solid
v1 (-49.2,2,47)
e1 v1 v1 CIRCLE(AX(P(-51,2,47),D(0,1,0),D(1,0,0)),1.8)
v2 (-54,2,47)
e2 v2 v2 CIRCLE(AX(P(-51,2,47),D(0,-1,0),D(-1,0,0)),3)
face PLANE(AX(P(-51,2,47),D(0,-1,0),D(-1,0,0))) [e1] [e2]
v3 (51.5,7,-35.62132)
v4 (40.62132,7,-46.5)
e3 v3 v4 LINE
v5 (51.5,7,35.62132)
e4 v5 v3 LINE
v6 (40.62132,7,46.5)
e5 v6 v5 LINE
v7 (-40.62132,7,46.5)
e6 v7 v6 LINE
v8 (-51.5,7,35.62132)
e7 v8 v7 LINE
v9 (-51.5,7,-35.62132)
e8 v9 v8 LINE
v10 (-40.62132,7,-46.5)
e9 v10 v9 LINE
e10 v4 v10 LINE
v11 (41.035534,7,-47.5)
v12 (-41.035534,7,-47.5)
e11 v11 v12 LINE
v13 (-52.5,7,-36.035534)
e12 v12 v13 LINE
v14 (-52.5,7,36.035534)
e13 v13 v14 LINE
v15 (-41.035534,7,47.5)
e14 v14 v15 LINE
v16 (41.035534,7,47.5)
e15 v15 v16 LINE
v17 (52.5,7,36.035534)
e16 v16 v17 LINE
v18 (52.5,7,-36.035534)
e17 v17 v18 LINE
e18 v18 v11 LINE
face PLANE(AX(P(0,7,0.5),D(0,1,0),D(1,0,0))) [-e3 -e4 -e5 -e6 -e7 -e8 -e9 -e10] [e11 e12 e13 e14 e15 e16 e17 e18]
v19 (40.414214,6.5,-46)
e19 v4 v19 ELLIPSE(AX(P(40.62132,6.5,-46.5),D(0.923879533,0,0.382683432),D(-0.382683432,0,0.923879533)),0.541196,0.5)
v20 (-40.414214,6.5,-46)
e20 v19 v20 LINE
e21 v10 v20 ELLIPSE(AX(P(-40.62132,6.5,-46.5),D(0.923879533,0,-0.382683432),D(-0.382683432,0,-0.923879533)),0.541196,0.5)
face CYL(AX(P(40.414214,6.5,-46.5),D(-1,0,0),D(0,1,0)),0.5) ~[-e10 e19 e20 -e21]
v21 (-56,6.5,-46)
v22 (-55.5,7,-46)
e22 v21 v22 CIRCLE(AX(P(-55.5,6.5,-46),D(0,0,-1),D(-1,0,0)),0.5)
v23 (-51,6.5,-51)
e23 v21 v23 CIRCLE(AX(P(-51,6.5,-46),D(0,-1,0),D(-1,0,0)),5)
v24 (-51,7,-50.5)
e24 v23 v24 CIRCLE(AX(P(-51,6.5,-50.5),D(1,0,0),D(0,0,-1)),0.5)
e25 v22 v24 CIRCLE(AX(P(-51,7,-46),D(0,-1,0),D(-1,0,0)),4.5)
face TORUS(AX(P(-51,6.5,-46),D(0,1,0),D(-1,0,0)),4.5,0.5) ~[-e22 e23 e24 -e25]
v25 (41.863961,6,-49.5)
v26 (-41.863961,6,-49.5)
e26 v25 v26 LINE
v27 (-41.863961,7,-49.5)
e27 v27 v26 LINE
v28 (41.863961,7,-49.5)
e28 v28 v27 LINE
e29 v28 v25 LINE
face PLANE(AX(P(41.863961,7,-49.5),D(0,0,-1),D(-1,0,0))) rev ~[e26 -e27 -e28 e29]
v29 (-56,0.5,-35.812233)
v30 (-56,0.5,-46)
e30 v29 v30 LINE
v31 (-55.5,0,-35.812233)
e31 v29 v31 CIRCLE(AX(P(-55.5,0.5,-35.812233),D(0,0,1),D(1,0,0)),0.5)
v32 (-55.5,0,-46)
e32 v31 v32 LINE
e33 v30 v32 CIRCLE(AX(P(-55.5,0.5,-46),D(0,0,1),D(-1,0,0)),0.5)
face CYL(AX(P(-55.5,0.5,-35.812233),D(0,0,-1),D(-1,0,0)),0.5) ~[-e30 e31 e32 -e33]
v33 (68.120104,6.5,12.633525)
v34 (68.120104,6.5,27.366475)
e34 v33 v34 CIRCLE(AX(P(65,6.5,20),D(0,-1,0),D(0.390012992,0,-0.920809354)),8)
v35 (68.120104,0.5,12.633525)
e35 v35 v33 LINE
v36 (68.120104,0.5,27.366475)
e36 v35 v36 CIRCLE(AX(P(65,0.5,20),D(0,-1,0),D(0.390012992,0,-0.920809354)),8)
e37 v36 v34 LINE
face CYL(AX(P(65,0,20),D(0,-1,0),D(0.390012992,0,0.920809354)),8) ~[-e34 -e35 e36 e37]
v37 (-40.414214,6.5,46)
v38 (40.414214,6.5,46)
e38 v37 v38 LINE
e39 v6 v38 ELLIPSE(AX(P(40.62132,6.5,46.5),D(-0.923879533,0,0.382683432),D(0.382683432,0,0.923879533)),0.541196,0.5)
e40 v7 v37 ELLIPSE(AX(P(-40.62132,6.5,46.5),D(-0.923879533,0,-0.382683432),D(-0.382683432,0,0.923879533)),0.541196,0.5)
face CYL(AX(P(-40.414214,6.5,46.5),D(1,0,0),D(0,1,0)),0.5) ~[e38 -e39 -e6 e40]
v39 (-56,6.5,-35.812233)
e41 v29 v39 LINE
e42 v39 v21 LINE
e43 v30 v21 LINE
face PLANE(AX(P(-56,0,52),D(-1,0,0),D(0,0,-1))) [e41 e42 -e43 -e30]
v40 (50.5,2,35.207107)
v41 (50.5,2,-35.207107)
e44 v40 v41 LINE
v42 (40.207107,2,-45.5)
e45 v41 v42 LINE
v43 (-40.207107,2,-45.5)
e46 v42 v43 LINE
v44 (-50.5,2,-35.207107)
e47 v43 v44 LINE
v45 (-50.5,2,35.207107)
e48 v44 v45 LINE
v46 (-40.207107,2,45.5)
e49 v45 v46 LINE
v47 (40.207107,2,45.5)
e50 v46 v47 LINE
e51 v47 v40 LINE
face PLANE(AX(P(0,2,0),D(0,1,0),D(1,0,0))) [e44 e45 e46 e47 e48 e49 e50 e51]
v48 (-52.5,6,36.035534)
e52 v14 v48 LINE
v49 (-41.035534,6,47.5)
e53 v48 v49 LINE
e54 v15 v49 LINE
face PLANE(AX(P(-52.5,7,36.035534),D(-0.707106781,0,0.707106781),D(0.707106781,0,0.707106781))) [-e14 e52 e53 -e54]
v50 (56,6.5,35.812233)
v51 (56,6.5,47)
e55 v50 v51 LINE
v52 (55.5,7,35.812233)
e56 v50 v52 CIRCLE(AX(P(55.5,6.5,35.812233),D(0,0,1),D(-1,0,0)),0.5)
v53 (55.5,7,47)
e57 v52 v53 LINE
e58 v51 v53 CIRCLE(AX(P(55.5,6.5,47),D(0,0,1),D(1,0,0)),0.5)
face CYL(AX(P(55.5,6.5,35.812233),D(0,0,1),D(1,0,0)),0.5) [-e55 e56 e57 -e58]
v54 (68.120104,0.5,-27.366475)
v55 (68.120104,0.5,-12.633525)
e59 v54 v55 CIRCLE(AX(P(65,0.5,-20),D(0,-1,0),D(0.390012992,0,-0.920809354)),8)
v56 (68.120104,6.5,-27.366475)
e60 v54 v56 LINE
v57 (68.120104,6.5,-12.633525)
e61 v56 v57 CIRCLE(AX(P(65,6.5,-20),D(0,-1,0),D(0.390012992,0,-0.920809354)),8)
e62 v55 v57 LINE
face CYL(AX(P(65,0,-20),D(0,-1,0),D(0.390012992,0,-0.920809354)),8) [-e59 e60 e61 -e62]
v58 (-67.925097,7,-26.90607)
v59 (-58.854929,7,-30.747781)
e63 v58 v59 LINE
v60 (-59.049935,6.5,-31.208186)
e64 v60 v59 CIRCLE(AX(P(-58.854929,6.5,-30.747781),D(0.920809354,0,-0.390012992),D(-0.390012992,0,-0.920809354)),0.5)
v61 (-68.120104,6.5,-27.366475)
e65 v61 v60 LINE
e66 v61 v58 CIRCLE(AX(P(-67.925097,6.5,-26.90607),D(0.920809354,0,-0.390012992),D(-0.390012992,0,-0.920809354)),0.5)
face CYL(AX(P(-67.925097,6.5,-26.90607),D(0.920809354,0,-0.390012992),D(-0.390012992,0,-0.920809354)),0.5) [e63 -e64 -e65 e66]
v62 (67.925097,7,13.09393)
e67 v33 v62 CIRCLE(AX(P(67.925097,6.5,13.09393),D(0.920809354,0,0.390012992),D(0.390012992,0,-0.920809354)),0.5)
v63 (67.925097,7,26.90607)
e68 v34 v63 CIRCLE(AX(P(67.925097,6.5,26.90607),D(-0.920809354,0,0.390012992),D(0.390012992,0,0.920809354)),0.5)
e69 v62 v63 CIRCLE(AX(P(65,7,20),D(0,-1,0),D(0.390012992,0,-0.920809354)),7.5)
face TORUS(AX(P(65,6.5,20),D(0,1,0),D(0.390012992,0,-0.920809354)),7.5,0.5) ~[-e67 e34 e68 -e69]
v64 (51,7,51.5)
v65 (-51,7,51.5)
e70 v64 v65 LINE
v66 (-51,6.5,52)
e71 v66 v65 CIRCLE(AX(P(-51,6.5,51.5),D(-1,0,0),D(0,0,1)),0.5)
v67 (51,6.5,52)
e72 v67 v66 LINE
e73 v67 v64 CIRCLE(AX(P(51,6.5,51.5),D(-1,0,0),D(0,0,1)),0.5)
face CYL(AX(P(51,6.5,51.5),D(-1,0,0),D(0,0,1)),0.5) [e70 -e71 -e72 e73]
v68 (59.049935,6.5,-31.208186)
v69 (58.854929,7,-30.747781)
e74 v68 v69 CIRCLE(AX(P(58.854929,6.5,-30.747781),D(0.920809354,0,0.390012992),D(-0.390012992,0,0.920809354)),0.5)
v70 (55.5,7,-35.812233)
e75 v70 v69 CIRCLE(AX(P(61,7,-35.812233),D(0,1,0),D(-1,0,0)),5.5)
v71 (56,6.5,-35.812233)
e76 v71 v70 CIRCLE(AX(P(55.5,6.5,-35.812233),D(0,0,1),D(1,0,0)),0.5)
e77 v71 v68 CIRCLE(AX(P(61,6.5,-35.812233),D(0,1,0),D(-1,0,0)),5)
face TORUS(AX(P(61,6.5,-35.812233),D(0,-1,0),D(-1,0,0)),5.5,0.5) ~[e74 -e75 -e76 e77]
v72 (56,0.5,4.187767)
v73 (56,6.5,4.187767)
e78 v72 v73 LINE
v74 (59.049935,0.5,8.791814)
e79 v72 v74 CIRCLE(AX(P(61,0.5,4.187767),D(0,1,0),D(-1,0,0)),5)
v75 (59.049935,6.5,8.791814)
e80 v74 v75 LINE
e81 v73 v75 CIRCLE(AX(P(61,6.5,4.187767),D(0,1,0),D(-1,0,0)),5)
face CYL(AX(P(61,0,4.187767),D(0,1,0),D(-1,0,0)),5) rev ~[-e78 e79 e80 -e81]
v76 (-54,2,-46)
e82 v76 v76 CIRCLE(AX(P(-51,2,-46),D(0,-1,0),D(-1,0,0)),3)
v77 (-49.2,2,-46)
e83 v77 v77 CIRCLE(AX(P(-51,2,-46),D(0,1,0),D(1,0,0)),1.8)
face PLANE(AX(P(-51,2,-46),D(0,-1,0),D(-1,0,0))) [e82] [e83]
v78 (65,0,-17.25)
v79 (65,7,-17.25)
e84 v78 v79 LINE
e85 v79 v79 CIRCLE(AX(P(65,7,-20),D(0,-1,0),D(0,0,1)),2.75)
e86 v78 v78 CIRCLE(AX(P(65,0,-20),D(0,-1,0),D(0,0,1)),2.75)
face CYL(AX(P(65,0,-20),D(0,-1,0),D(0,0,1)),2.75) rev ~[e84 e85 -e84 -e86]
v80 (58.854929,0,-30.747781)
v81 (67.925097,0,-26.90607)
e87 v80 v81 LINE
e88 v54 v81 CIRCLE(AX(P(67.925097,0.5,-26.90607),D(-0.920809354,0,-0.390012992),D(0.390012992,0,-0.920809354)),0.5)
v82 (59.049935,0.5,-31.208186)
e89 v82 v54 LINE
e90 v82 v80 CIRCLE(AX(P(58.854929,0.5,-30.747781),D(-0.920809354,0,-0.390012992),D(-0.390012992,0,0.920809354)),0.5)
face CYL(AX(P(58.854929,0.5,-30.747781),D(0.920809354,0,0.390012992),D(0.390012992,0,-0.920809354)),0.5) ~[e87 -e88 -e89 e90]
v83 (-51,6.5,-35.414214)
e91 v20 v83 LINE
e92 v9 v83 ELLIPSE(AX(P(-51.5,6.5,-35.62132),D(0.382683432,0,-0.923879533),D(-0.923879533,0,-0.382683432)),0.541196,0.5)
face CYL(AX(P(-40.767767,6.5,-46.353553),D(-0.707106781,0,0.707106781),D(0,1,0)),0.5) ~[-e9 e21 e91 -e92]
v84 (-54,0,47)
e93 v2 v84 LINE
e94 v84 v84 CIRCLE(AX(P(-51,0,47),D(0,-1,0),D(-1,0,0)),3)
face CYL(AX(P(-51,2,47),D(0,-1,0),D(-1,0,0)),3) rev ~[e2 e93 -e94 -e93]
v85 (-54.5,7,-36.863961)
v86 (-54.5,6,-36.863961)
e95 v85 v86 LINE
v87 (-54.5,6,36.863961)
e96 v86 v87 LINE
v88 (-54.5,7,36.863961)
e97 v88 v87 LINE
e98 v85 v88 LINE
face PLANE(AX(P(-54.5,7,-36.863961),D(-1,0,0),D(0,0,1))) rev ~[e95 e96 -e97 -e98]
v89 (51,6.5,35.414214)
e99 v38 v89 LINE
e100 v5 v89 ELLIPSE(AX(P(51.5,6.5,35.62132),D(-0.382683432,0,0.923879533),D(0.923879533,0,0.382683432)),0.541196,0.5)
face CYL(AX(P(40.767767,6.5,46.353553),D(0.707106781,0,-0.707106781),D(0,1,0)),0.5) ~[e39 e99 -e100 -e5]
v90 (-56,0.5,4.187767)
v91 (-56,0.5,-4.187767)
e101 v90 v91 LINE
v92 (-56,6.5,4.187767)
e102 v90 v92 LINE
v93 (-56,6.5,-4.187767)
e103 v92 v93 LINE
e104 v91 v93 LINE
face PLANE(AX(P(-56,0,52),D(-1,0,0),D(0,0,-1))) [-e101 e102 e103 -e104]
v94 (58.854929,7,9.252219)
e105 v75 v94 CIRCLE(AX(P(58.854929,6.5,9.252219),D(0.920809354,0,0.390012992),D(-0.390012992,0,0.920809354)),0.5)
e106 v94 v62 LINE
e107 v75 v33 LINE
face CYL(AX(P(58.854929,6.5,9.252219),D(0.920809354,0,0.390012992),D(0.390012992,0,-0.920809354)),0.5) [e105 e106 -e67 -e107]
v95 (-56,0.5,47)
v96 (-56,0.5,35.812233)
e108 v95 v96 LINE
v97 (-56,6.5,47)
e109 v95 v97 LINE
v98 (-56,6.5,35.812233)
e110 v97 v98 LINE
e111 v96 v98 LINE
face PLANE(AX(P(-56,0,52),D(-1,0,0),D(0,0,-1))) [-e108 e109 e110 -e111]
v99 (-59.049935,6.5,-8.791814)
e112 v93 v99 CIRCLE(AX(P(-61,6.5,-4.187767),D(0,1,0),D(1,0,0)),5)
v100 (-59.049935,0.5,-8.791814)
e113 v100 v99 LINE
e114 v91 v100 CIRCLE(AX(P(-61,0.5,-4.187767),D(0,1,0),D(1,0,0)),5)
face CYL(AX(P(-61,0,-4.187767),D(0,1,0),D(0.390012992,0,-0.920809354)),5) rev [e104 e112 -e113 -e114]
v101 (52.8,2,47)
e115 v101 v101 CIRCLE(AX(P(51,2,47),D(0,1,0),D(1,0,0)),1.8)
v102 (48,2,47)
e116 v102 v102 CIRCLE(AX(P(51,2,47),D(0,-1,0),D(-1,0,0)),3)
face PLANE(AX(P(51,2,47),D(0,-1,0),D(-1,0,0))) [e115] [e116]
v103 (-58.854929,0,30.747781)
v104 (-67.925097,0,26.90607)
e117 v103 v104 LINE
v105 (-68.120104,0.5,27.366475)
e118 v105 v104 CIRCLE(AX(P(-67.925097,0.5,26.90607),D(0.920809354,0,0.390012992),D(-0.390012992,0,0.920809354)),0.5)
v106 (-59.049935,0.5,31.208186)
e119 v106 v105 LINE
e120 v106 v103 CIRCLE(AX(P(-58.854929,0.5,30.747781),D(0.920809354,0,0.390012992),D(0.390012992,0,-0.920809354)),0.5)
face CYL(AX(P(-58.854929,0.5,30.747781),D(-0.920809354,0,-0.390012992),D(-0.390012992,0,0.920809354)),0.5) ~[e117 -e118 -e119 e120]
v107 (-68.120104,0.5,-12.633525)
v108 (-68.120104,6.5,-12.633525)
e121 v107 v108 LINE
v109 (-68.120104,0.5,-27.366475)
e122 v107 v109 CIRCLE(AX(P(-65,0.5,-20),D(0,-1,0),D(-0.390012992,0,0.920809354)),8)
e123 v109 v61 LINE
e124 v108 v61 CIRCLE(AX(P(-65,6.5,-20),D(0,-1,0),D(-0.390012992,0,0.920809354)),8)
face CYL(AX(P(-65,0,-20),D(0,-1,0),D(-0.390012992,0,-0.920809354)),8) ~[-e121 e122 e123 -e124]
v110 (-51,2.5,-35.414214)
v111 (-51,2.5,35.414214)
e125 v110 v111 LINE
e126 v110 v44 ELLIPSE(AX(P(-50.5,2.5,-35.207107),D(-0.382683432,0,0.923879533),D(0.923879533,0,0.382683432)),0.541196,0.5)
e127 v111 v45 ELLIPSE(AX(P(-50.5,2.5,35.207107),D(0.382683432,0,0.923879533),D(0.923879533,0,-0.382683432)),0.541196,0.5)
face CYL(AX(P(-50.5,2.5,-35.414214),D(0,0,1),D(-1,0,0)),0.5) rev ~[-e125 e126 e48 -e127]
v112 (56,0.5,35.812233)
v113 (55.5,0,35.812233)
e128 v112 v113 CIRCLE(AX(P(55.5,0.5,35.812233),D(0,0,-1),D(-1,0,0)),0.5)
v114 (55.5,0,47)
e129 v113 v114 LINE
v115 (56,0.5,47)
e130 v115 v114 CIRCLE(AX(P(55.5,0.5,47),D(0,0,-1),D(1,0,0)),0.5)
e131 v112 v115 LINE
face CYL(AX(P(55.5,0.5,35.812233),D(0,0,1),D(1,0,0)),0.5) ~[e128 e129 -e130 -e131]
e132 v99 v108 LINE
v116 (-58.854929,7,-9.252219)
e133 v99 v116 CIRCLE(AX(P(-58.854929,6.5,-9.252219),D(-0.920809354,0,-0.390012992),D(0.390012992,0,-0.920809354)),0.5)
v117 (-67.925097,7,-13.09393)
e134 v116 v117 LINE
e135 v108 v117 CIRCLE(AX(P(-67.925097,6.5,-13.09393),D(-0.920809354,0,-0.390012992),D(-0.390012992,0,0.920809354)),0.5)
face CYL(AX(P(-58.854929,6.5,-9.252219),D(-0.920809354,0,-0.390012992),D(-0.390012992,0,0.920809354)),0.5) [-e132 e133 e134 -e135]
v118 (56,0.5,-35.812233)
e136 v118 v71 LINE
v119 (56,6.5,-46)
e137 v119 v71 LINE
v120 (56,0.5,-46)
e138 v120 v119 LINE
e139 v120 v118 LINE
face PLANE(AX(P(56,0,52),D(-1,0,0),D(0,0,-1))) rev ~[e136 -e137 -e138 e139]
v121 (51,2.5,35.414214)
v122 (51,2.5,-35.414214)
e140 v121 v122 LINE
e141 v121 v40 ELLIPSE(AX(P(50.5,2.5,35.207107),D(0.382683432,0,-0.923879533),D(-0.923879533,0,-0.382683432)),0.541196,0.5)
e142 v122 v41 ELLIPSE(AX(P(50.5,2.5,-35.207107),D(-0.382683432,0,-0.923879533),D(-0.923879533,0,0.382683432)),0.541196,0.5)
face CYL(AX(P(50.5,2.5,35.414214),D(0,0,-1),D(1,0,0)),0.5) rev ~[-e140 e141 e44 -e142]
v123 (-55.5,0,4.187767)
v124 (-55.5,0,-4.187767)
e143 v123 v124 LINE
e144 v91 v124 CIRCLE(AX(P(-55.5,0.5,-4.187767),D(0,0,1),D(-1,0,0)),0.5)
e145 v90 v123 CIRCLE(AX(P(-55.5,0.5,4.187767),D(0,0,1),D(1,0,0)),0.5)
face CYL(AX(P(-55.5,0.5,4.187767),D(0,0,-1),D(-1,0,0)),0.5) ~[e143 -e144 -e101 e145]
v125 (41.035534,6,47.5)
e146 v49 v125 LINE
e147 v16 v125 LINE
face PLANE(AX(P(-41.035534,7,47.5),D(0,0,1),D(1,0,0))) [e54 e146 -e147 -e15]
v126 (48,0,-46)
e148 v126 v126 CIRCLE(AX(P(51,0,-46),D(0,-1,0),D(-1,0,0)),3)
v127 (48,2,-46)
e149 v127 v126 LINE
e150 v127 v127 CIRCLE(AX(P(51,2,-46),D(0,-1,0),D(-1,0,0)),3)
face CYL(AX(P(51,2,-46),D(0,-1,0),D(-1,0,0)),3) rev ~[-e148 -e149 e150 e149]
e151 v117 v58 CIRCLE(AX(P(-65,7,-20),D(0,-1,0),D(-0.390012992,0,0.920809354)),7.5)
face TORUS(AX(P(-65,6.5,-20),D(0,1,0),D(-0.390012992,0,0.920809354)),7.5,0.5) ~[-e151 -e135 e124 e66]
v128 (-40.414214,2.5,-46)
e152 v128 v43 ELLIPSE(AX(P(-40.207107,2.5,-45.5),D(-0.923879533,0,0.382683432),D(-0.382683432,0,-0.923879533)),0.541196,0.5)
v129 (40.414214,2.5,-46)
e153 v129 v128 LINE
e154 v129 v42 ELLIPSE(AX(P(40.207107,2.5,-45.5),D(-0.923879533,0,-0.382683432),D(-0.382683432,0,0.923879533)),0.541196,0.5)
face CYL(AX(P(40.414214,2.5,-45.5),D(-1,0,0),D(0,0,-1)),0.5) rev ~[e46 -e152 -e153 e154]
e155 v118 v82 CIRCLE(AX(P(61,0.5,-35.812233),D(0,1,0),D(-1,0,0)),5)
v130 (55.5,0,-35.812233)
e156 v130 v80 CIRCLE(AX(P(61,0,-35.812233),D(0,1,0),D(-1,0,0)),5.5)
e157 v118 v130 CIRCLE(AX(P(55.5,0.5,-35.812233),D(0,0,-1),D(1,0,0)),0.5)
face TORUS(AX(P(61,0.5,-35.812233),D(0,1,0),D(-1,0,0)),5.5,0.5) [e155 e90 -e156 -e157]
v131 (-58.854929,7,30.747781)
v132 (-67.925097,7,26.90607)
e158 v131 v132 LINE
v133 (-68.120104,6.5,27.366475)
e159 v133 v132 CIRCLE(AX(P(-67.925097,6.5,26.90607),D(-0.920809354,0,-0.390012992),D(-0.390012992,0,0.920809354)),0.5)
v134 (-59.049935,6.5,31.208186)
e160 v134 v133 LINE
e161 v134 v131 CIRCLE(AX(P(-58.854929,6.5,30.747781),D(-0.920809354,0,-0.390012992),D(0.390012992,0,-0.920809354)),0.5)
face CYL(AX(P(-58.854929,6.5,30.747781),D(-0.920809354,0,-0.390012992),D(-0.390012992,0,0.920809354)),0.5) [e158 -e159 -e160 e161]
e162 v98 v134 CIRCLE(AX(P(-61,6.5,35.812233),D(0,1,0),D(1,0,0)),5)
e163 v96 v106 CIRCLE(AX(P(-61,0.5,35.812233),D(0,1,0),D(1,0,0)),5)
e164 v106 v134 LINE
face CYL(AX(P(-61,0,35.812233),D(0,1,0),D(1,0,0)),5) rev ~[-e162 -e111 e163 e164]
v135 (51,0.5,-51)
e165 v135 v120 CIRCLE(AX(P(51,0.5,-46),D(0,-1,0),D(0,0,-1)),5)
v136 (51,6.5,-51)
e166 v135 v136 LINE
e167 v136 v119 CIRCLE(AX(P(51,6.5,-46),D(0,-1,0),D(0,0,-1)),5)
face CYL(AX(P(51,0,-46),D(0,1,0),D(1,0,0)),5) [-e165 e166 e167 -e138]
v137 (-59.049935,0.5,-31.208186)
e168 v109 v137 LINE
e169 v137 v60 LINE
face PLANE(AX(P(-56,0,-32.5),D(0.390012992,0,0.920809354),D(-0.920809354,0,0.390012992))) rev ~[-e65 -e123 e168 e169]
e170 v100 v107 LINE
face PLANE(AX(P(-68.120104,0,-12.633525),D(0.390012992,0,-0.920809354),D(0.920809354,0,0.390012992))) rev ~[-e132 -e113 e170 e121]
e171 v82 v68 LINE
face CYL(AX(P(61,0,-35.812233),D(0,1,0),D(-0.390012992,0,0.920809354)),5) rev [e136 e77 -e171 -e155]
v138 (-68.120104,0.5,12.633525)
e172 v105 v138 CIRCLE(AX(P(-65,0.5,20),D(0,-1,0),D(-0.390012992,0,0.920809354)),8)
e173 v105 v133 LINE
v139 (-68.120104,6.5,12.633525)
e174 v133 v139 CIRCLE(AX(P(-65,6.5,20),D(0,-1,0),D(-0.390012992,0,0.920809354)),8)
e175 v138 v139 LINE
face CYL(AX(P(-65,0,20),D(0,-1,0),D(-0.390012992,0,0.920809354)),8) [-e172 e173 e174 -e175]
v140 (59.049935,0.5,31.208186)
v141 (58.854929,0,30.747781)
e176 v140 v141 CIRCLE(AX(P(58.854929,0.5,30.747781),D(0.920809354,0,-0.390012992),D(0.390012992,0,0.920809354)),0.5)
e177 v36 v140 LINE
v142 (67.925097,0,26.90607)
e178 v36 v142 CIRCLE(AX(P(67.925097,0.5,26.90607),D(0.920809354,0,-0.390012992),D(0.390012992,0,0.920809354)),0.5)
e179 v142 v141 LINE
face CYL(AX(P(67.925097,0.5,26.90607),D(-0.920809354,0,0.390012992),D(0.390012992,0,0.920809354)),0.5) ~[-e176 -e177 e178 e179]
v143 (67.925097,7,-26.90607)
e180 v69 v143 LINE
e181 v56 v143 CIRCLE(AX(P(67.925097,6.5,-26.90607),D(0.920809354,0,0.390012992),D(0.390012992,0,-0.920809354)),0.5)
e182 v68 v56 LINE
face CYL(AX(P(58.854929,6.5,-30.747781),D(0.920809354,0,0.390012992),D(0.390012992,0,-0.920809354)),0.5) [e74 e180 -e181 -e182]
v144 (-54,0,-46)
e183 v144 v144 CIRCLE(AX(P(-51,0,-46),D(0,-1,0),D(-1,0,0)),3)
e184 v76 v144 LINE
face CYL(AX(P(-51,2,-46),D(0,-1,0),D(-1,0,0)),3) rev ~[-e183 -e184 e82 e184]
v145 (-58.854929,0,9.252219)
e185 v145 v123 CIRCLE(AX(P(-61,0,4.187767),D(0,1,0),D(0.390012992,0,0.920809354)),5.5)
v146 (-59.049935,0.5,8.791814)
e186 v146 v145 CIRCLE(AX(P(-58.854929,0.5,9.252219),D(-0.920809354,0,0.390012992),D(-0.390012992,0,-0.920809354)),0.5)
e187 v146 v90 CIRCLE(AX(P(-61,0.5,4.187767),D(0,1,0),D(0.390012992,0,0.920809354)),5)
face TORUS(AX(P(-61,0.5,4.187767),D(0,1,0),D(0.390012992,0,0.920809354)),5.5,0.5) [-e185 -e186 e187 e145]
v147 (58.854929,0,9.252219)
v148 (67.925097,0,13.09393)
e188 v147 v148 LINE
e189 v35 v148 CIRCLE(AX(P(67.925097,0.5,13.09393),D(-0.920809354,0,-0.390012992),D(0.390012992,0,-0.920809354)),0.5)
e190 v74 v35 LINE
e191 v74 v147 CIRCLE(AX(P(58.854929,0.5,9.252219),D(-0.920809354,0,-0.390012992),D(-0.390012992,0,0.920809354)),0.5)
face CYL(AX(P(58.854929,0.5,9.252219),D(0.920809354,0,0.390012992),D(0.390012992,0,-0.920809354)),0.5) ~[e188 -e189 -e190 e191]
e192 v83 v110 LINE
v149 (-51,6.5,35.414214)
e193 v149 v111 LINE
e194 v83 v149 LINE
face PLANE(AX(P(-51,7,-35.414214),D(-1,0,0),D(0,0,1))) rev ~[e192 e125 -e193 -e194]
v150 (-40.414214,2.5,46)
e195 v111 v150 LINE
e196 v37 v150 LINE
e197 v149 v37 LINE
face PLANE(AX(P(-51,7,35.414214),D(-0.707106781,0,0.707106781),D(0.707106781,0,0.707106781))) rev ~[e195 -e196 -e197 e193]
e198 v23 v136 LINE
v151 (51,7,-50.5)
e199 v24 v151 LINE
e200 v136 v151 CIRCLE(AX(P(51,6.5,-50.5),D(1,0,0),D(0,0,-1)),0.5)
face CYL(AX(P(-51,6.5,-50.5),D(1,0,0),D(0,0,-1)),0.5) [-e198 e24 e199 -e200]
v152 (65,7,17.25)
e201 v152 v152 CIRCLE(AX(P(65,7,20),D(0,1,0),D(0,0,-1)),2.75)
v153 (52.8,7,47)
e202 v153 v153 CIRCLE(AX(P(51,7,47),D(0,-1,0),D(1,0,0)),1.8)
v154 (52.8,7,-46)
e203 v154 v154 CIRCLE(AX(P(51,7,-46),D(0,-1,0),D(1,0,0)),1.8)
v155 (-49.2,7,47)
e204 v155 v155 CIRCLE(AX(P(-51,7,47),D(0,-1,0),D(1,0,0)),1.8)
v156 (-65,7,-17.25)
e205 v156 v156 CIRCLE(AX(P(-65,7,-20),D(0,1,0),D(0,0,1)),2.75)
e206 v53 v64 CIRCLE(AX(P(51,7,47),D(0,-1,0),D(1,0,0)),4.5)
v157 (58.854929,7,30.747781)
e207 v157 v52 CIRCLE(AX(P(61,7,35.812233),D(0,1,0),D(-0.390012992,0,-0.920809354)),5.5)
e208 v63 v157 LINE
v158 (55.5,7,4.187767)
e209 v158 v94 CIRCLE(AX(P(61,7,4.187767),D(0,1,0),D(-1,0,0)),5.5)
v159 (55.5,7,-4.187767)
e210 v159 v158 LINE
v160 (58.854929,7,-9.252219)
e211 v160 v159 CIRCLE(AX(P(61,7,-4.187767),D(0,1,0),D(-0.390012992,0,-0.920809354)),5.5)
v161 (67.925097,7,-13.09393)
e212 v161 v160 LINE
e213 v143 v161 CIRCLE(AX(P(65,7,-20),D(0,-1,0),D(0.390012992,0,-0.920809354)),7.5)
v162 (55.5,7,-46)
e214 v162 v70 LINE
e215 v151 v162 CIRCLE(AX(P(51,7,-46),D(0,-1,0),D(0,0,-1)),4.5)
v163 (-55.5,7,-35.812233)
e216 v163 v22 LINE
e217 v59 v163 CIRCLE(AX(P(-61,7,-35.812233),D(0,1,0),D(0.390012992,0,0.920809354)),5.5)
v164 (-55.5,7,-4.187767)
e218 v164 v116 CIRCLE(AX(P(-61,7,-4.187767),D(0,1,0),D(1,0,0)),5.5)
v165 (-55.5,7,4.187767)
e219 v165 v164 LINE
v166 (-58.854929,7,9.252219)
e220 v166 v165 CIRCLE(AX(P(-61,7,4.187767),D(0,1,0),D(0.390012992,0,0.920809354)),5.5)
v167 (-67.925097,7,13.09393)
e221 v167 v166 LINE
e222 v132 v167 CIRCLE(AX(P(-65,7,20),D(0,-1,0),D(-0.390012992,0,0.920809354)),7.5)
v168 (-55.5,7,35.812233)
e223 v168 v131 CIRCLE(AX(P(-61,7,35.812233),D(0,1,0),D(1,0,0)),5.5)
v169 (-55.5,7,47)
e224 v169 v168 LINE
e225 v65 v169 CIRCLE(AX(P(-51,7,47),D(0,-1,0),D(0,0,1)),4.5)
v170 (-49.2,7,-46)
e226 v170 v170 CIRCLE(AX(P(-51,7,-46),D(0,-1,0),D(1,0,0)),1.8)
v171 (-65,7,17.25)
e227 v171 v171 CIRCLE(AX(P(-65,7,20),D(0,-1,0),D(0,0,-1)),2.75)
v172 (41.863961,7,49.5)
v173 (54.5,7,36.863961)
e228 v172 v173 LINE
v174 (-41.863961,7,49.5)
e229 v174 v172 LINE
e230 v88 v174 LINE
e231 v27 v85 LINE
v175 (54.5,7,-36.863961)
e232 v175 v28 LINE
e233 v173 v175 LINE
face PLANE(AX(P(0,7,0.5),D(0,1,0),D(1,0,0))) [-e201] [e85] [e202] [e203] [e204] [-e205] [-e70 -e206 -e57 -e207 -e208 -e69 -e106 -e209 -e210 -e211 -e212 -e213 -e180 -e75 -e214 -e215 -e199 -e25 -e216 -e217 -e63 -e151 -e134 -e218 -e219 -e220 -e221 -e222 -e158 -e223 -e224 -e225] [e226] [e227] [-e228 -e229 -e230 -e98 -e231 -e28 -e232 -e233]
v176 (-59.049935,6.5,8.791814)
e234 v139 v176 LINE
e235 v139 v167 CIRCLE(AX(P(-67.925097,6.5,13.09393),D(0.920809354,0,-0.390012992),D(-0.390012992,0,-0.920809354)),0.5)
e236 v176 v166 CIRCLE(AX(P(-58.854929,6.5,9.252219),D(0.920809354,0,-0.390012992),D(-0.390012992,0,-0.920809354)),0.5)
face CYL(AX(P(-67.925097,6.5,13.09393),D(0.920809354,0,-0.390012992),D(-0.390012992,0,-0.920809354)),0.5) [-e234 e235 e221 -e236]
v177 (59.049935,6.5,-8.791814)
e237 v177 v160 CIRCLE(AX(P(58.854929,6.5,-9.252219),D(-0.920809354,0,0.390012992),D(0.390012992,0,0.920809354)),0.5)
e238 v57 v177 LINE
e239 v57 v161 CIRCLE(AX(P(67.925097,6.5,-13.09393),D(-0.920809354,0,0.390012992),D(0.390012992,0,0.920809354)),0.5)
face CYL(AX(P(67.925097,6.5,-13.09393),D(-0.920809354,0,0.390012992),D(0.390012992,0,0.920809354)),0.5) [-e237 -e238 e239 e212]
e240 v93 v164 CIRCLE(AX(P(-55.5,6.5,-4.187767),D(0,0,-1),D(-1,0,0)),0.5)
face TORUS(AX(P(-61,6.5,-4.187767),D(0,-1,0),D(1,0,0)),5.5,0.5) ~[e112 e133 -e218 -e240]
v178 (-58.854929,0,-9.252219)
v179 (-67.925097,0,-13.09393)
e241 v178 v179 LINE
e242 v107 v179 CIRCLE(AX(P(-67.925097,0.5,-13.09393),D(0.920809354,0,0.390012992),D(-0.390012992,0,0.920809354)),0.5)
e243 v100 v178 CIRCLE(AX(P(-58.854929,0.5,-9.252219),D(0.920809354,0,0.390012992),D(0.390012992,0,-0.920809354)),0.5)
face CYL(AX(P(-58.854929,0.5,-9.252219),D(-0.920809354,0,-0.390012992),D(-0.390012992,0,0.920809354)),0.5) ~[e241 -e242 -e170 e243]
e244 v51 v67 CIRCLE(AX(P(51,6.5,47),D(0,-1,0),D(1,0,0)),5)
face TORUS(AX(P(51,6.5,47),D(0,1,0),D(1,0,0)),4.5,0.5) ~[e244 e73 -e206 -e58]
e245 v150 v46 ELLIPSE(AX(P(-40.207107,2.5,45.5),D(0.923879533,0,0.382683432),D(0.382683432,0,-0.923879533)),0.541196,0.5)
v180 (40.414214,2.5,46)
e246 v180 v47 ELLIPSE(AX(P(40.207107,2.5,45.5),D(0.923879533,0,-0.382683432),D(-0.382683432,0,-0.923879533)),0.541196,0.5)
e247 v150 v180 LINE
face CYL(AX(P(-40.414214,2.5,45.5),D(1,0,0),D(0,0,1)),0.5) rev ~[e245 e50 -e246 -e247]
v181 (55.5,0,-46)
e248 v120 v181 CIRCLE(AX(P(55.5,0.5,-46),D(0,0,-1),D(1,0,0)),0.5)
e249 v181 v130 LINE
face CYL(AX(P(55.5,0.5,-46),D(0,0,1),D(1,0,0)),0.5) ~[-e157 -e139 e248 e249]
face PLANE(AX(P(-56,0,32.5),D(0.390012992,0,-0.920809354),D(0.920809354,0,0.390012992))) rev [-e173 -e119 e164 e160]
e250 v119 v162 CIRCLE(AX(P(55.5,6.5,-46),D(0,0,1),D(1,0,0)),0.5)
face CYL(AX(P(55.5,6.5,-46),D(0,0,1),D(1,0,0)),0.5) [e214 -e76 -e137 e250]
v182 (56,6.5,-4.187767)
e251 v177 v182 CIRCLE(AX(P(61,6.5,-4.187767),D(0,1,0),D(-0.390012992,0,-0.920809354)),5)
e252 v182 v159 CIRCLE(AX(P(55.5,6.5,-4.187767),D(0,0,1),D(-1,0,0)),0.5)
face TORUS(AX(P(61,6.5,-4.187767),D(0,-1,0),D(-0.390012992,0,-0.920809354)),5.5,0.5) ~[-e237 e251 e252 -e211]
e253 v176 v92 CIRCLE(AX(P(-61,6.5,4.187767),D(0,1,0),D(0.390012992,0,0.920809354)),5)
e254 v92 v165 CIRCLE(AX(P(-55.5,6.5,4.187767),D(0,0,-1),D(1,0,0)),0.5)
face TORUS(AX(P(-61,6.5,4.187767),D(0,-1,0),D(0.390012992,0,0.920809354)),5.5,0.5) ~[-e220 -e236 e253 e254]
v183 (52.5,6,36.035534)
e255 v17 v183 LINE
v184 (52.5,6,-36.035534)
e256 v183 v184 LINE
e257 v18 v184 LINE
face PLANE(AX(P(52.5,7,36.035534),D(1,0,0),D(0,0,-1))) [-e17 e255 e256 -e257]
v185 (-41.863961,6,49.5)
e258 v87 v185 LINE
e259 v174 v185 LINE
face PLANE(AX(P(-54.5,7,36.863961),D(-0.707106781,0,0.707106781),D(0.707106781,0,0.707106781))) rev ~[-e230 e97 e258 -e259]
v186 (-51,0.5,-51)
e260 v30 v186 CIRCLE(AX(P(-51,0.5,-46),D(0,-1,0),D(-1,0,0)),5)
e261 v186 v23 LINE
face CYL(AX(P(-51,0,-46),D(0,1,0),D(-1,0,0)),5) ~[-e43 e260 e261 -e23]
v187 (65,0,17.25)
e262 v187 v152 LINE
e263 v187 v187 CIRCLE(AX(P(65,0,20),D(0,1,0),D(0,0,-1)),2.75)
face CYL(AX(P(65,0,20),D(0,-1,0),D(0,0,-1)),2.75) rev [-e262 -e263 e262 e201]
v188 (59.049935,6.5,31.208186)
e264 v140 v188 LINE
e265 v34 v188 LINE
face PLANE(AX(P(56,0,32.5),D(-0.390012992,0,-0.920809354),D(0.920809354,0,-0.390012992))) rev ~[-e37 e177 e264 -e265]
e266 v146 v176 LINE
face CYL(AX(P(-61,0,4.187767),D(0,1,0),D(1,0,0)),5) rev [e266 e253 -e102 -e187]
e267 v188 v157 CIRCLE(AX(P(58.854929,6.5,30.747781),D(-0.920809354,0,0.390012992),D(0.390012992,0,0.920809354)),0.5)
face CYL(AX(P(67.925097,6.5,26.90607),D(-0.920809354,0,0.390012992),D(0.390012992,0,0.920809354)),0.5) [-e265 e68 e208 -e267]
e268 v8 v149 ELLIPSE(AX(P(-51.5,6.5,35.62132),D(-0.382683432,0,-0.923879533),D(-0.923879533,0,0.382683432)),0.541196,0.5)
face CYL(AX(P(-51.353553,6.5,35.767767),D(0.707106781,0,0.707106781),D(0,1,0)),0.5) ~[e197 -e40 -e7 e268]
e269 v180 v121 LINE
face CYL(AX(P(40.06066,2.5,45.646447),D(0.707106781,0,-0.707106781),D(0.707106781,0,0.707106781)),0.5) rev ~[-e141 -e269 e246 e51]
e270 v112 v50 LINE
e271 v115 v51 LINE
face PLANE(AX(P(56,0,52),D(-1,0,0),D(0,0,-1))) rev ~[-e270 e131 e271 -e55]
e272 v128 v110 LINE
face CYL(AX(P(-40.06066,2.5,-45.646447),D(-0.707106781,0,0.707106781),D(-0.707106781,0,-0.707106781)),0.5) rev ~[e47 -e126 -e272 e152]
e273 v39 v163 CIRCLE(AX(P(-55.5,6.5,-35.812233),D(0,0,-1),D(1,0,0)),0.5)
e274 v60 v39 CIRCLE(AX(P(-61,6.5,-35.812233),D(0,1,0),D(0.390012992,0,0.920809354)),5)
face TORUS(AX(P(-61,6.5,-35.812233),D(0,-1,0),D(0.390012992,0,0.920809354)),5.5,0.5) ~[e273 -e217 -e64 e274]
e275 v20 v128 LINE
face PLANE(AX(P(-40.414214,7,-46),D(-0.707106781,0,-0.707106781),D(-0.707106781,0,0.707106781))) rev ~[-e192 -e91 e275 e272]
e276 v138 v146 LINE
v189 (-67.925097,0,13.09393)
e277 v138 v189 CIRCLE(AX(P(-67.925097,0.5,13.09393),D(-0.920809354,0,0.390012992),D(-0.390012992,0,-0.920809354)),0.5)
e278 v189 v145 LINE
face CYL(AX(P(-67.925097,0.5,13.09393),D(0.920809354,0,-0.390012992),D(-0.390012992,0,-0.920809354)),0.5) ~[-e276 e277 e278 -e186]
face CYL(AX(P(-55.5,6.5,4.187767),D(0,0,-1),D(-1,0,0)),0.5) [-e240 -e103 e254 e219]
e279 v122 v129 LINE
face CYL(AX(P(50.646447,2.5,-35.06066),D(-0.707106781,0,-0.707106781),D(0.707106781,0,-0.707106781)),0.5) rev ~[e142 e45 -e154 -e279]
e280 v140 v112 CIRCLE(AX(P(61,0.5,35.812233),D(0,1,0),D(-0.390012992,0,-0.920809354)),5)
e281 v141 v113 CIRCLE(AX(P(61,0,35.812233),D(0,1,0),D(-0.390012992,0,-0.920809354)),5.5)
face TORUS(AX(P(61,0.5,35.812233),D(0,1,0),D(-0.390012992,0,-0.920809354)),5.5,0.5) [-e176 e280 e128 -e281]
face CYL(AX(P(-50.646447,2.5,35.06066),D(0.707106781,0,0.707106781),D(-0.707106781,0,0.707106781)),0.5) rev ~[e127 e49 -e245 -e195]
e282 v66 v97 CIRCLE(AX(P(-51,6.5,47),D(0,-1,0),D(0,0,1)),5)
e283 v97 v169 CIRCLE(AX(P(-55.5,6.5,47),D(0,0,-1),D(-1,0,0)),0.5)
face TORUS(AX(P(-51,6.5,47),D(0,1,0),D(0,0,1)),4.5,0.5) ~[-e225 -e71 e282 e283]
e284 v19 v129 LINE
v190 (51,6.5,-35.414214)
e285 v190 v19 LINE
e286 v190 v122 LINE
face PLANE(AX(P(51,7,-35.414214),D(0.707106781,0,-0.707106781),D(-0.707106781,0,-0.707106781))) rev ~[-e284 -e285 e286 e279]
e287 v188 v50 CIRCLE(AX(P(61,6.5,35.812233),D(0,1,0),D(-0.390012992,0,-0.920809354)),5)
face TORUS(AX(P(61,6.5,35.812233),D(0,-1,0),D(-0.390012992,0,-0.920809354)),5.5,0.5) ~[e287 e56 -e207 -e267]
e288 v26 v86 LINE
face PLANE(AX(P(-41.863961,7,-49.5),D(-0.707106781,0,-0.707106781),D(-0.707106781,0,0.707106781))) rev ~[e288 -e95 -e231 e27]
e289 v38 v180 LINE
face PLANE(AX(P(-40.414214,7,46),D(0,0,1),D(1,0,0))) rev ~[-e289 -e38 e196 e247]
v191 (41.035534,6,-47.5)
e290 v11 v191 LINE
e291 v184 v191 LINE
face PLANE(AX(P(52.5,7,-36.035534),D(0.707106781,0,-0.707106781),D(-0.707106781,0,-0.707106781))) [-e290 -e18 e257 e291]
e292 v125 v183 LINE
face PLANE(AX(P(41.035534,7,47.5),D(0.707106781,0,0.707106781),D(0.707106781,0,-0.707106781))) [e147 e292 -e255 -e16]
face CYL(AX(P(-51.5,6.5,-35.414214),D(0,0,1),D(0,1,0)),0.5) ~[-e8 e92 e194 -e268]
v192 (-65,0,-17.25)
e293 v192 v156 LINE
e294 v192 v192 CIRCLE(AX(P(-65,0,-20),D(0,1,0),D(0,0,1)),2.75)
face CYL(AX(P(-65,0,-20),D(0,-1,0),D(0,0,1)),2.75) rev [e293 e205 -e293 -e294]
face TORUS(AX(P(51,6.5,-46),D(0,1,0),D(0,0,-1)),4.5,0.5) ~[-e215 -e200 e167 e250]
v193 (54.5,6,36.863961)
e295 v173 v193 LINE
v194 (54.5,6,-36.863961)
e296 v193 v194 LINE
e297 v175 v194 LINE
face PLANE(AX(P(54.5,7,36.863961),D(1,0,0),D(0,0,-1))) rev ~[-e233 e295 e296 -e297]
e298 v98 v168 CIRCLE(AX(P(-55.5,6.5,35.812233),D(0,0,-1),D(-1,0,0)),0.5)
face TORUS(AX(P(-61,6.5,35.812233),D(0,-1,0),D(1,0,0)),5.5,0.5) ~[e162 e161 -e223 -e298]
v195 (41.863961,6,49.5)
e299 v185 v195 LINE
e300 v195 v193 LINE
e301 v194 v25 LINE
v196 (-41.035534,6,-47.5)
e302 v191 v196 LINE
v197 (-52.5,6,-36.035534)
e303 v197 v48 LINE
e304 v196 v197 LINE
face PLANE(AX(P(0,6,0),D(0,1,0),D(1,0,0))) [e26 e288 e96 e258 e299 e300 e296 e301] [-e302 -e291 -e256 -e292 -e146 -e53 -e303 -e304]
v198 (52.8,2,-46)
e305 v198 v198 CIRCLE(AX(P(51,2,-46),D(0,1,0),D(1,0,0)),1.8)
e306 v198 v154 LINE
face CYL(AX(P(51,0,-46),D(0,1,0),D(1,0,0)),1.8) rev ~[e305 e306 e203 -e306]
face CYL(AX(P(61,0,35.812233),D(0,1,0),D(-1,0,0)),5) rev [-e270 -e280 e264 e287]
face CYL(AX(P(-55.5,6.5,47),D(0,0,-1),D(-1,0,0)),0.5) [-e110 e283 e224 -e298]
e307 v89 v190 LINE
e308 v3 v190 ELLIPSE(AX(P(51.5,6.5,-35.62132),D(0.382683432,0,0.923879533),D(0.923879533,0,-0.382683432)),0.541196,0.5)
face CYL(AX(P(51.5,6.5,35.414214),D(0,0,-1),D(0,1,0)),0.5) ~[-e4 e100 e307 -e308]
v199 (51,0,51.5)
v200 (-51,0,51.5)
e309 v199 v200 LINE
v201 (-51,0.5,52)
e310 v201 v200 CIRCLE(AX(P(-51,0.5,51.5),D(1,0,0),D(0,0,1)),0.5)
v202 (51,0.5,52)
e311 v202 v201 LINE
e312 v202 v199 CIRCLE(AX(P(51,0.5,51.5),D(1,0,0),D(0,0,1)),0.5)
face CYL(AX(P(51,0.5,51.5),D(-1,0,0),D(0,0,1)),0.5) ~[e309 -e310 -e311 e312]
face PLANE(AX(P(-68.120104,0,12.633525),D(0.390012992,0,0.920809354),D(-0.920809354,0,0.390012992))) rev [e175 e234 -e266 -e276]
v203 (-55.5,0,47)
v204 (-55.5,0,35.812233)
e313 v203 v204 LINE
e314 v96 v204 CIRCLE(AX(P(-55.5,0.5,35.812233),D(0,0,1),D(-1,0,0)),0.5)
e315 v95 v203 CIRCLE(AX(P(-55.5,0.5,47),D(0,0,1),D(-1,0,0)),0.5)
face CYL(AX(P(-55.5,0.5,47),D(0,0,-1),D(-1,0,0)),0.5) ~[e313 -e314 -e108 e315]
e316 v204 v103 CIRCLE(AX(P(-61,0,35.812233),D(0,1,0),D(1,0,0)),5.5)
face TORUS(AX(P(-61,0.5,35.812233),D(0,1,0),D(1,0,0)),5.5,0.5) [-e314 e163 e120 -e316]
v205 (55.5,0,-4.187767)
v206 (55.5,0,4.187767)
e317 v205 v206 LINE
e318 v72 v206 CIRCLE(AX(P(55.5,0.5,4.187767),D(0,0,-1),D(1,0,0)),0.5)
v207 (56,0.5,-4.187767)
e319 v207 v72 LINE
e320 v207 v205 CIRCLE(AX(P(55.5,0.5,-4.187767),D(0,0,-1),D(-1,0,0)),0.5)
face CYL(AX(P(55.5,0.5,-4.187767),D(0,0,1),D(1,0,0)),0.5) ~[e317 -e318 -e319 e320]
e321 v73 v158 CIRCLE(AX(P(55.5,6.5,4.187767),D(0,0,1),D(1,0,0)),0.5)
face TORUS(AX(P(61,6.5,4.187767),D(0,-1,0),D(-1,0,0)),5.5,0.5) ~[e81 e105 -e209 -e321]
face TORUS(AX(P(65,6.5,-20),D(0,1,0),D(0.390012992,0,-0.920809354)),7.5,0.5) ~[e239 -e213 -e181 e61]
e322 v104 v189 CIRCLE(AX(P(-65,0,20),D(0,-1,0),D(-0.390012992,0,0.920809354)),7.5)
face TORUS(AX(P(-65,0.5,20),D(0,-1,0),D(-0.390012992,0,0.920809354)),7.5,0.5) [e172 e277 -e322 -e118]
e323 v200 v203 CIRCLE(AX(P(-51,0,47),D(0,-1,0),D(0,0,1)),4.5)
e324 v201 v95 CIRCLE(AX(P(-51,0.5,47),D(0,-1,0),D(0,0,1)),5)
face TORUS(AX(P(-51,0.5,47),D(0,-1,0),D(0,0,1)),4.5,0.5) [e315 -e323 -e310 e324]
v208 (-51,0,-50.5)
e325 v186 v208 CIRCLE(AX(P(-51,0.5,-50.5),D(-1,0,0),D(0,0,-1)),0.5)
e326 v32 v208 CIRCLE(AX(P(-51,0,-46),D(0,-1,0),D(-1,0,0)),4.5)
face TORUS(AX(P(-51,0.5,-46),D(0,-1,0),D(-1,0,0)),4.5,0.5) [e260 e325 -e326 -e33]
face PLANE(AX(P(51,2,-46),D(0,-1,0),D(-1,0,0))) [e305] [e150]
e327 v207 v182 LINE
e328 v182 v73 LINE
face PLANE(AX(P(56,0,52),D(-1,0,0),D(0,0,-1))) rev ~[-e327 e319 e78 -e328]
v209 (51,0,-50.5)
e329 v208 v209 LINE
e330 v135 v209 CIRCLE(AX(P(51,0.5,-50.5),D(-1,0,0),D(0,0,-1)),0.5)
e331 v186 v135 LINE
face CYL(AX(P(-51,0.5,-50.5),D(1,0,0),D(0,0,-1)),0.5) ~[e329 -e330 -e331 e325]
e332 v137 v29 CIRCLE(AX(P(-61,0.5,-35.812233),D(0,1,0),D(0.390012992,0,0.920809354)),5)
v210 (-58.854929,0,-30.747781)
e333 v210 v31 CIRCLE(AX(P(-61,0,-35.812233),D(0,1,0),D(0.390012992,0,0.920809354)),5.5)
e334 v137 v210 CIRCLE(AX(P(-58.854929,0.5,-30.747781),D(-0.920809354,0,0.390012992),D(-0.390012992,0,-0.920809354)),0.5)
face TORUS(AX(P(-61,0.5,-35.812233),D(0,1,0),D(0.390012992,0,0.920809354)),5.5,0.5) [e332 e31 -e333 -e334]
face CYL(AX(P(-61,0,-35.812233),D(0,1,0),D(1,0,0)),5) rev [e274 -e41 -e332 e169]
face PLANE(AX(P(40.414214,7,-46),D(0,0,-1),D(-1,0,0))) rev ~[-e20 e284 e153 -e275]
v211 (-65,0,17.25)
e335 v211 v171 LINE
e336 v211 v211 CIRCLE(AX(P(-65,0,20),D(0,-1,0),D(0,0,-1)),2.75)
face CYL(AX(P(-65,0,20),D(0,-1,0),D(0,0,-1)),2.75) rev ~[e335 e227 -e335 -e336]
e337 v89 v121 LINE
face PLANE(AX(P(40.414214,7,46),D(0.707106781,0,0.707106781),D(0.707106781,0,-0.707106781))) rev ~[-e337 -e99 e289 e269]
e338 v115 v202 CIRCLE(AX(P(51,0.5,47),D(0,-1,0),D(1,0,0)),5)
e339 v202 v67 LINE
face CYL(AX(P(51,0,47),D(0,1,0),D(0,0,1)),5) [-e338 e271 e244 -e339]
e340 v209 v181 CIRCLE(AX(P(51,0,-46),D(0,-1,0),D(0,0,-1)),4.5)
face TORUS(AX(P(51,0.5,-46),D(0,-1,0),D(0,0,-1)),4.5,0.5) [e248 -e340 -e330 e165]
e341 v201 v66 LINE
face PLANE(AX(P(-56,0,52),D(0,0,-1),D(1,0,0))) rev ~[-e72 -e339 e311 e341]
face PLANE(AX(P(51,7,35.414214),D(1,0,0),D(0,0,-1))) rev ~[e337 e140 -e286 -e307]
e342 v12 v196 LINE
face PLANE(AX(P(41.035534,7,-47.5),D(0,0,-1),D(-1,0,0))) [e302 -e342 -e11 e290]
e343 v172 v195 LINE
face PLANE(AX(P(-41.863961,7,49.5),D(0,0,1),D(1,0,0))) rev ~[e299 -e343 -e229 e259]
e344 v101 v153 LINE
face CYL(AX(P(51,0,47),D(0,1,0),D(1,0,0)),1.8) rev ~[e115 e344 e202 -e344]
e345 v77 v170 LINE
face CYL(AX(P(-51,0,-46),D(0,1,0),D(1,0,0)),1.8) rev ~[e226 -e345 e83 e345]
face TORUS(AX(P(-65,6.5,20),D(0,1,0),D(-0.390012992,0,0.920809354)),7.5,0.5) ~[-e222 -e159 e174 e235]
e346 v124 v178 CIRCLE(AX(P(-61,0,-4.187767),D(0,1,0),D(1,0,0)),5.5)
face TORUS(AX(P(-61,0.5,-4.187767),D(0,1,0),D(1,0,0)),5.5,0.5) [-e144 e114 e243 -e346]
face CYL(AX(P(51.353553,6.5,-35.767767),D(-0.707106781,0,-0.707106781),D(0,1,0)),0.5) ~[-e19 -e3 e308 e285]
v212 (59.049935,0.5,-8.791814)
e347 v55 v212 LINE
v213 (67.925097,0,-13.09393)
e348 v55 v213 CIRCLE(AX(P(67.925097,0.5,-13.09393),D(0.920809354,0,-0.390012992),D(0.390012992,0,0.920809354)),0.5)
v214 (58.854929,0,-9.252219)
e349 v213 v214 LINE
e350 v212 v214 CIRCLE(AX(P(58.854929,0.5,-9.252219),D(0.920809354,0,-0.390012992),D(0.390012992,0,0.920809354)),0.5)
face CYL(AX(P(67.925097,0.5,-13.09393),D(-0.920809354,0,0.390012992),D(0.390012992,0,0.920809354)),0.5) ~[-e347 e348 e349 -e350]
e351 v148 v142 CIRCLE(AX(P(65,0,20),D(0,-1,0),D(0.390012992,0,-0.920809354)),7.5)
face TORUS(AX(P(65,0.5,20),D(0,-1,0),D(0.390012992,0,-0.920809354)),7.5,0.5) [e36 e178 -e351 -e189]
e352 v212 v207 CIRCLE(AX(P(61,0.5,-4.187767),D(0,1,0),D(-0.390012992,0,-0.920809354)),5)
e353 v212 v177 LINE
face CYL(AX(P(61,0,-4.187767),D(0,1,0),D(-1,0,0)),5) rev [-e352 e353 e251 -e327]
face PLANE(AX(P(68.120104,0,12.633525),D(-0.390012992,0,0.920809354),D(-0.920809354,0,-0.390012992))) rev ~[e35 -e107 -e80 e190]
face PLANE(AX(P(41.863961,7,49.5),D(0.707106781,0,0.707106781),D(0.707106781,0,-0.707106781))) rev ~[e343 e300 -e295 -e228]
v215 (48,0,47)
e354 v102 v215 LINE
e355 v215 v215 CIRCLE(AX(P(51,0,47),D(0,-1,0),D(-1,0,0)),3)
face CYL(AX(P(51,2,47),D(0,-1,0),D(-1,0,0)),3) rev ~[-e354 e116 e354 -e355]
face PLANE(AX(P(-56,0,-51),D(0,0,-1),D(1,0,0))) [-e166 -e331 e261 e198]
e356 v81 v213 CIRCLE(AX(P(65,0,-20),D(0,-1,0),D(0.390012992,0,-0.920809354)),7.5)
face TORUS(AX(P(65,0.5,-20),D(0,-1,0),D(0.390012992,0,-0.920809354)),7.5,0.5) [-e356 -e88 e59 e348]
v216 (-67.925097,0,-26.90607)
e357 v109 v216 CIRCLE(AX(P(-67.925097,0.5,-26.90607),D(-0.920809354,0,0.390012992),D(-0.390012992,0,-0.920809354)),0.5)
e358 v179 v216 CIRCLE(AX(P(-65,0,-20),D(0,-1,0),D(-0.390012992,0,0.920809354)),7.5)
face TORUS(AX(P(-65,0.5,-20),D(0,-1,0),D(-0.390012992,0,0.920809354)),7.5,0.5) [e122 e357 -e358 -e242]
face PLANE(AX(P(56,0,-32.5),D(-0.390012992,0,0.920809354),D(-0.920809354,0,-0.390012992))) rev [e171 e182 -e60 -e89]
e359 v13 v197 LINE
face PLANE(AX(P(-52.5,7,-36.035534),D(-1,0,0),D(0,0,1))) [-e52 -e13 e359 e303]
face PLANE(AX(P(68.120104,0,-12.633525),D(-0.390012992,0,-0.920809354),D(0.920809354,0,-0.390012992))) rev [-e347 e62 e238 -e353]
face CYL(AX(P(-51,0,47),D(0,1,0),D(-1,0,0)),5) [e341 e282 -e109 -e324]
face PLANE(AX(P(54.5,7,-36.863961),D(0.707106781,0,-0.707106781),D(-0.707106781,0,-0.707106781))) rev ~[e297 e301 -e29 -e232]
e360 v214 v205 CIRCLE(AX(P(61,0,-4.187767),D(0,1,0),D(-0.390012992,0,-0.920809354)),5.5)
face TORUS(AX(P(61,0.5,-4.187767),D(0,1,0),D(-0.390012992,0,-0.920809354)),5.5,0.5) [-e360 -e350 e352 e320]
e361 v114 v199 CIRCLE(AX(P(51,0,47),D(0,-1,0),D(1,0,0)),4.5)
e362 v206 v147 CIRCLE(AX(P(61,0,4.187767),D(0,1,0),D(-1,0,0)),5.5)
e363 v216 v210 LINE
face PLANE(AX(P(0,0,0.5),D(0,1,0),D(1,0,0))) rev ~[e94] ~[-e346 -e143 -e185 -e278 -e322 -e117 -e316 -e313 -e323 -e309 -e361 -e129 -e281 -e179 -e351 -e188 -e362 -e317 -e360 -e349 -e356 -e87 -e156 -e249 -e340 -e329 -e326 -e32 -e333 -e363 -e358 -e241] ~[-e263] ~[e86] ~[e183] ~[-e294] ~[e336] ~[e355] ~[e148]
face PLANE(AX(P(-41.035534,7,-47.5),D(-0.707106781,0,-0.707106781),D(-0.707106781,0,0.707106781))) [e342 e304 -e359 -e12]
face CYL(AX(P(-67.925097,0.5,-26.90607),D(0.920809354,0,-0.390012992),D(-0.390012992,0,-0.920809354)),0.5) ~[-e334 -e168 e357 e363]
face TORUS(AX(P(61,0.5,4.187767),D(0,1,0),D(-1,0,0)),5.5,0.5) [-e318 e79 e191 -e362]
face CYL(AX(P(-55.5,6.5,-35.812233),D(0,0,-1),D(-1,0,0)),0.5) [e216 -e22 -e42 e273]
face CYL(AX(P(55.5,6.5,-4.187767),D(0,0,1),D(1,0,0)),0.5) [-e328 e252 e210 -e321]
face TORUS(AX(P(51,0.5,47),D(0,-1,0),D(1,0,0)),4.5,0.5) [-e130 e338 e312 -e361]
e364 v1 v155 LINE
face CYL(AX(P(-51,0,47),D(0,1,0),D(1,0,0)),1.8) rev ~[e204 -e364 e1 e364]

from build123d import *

# Parameters (mm, degrees)
BASE_SKETCH_W                                    = 112
BASE_SKETCH_H                                    = 103
BASE_DEPTH                                       = 7
CORNER_FILLET_R                                  = 5
REAR_LEFT_MOUNTING_FLANGE_SKETCH_R               = 2.75
REAR_LEFT_MOUNTING_FLANGE_DEPTH                  = 7
FRONT_MOUNTING_FLANGES_COPY_1_SKETCH_R           = 2.75
FRONT_MOUNTING_FLANGES_COPY_1_DEPTH              = 7
MOUNTING_FLANGE_FILLET_R                         = 5
TOP_AND_BOTTOM_FILLET_R                          = 0.5
PCB_POCKET_DEPTH                                 = 5
INSIDE_FILLET_R                                  = 0.5
SEALING_CHANNEL_DEPTH                            = 1
CBORE_FOR_M3_HEX_HEAD_MACHINE_SCREW1_D           = 3.6
CBORE_FOR_M3_HEX_HEAD_MACHINE_SCREW1_DEPTH       = 7
CBORE_FOR_M3_HEX_HEAD_MACHINE_SCREW1_CBORE_D     = 6
CBORE_FOR_M3_HEX_HEAD_MACHINE_SCREW1_CBORE_DEPTH = 2
CBORE_FOR_M3_HEX_HEAD_MACHINE_SCREW1_TIP         = 1.081549114


with BuildPart() as part:
    # Base Sketch → Base (new body)
    with BuildSketch(Plane(origin=(0, 0, 0), x_dir=(1, 0, 0), z_dir=(0, 1, 0))):
        with Locations((0, -0.5)):
            Rectangle(BASE_SKETCH_W, BASE_SKETCH_H)
    extrude(amount=BASE_DEPTH)

    # Corner Fillet
    corner_fillet_edges = [part.edges().sort_by_distance(p)[0] for p in [
        (-56, 3.5, -51),
        (56, 3.5, -51),
        (56, 3.5, 52),
        (-56, 3.5, 52),
    ]]
    fillet(corner_fillet_edges, radius=CORNER_FILLET_R)

    # Rear Left Mounting Flange Sketch → Rear Left Mounting Flange (add)
    with BuildSketch(Plane(origin=(0, 0, 0), x_dir=(1, 0, 0), z_dir=(0, 1, 0))):
        with BuildLine():
            Line((-68.120103933, 12.633525168), (-56, 7.5))
            Line((-56, 7.5), (-56, 32.5))
            Line((-56, 32.5), (-68.120103933, 27.366474832))
            ThreePointArc((-68.120103933, 27.366474832), (-73, 20), (-68.120103933, 12.633525168))
        make_face()
        with Locations(Location((-65, 20, 0), (0, 0, 270))):
            Circle(REAR_LEFT_MOUNTING_FLANGE_SKETCH_R, mode=Mode.SUBTRACT)
    rear_left_mounting_flange = extrude(amount=REAR_LEFT_MOUNTING_FLANGE_DEPTH)

    # Rear Right Mounting Flange: Rear Left Mounting Flange across plane
    add(rear_left_mounting_flange.mirror(Plane(origin=(0, 0, 0), x_dir=(0, 0, 1), z_dir=(1, 0, 0))))

    # Front Mounting Flanges: Rear Left Mounting Flange across plane
    add(rear_left_mounting_flange.mirror(Plane.XY))

    # Front Mounting Flanges copy 1 sketch → Front Mounting Flanges copy 1 (add)
    with BuildSketch(Plane(origin=(0, 0, 0), x_dir=(-1, 0, 0), z_dir=(0, 1, 0))):
        with BuildLine():
            Line((-68.120103933, 12.633525168), (-56, 7.5))
            Line((-56, 7.5), (-56, 32.5))
            Line((-56, 32.5), (-68.120103933, 27.366474832))
            ThreePointArc((-68.120103933, 27.366474832), (-73, 20), (-68.120103933, 12.633525168))
        make_face()
        with Locations(Location((-65, 20, 0), (0, 0, 270))):
            Circle(FRONT_MOUNTING_FLANGES_COPY_1_SKETCH_R, mode=Mode.SUBTRACT)
    extrude(amount=FRONT_MOUNTING_FLANGES_COPY_1_DEPTH)

    # Mounting Flange Fillet
    mounting_flange_fillet_edges = [part.edges().sort_by_distance(p)[0] for p in [
        (-56, 3.5, -32.5),
        (-56, 3.5, -7.5),
        (56, 3.5, -32.5),
        (56, 3.5, -7.5),
        (-56, 3.5, 32.5),
        (-56, 3.5, 7.5),
        (56, 3.5, 32.5),
        (56, 3.5, 7.5),
    ]]
    fillet(mounting_flange_fillet_edges, radius=MOUNTING_FLANGE_FILLET_R)

    # Top and Bottom Fillet
    top_and_bottom_fillet_edges = [part.edges().sort_by_distance(p)[0] for p in [
        (-56, 7, 41.406116453),
        (-56, 0, 41.406116453),
        (-63.585019487, 7, 29.287330484),
        (-63.585019487, 0, 29.287330484),
        (56, 7, -40.906116453),
        (56, 0, -40.906116453),
        (63.585019487, 7, -29.287330484),
        (63.585019487, 0, -29.287330484),
        (56, 0, 0),
        (56, 7, 0),
        (63.585019487, 7, 29.287330484),
        (63.585019487, 0, 29.287330484),
        (-56.83164752, 0, -33.050922056),
        (-56.83164752, 7, -33.050922056),
        (-56.83164752, 0, -6.949077944),
        (-56.83164752, 7, -6.949077944),
        (-56.83164752, 0, 6.949077944),
        (-56.83164752, 7, 6.949077944),
        (-56.83164752, 0, 33.050922056),
        (-56.83164752, 7, 33.050922056),
        (56.83164752, 0, -33.050922056),
        (56.83164752, 7, -33.050922056),
        (56.83164752, 0, -6.949077944),
        (56.83164752, 7, -6.949077944),
        (56.83164752, 0, 6.949077944),
        (56.83164752, 7, 6.949077944),
        (56.83164752, 0, 33.050922056),
        (56.83164752, 7, 33.050922056),
        (0, 0, -51),
        (0, 7, -51),
        (-56, 0, -40.906116453),
        (56, 0, 41.406116453),
        (0, 0, 52),
        (-54.535533906, 0, -49.535533906),
        (-54.535533906, 0, 50.535533906),
        (54.535533906, 0, 50.535533906),
        (54.535533906, 0, -49.535533906),
        (56, 7, 41.406116453),
        (-56, 7, -40.906116453),
        (0, 7, 52),
        (-54.535533906, 7, -49.535533906),
        (-54.535533906, 7, 50.535533906),
        (54.535533906, 7, 50.535533906),
        (54.535533906, 7, -49.535533906),
        (-63.585019487, 0, -10.712669516),
        (-73, 0, -20),
        (-73, 7, -20),
        (-63.585019487, 7, -10.712669516),
        (73, 7, -20),
        (63.585019487, 7, -10.712669516),
        (73, 0, -20),
        (63.585019487, 0, -10.712669516),
        (-73, 7, 20),
        (-63.585019487, 7, 10.712669516),
        (-73, 0, 20),
        (-63.585019487, 0, 10.712669516),
        (63.585019487, 0, 10.712669516),
        (73, 0, 20),
        (73, 7, 20),
        (63.585019487, 7, 10.712669516),
        (-63.585019487, 7, -29.287330484),
        (-63.585019487, 0, -29.287330484),
        (-56, 0, 0),
        (-56, 7, 0),
    ]]
    fillet(top_and_bottom_fillet_edges, radius=TOP_AND_BOTTOM_FILLET_R)

    # PCB Pocket Sketch → PCB Pocket (cut)
    with BuildSketch(Plane(origin=(0, 7, 0), x_dir=(1, 0, 0), z_dir=(0, 1, 0))):
        Polygon((-40.414213562, 46), (-51, 35.414213562), (-51, -35.414213562), (-40.414213562, -46), (40.414213562, -46), (51, -35.414213562), (51, 35.414213562), (40.414213562, 46), align=None)
    extrude(amount=-PCB_POCKET_DEPTH, mode=Mode.SUBTRACT)

    # Inside Fillet
    inside_fillet_edges = [part.edges().sort_by_distance(p)[0] for p in [
        (0, 2, -46),
        (45.707106781, 2, -40.707106781),
        (51, 2, 0),
        (45.707106781, 2, 40.707106781),
        (0, 2, 46),
        (-45.707106781, 2, 40.707106781),
        (-51, 2, 0),
        (-45.707106781, 2, -40.707106781),
        (0, 7, -46),
        (-45.707106781, 7, -40.707106781),
        (-51, 7, 0),
        (-45.707106781, 7, 40.707106781),
        (0, 7, 46),
        (45.707106781, 7, 40.707106781),
        (51, 7, 0),
        (45.707106781, 7, -40.707106781),
    ]]
    fillet(inside_fillet_edges, radius=INSIDE_FILLET_R)

    # Sealing Channel Sketch → Sealing Channel (cut)
    with BuildSketch(Plane(origin=(0, 7, 0), x_dir=(1, 0, 0), z_dir=(0, 1, 0))):
        Polygon((-41.863961031, 49.5), (-54.5, 36.863961031), (-54.5, -36.863961031), (-41.863961031, -49.5), (41.863961031, -49.5), (54.5, -36.863961031), (54.5, 36.863961031), (41.863961031, 49.5), align=None)
        Polygon((-41.035533906, 47.5), (-52.5, 36.035533906), (-52.5, -36.035533906), (-41.035533906, -47.5), (41.035533906, -47.5), (52.5, -36.035533906), (52.5, 36.035533906), (41.035533906, 47.5), align=None, mode=Mode.SUBTRACT)
    extrude(amount=-SEALING_CHANNEL_DEPTH, mode=Mode.SUBTRACT)

    # CBORE for M3 Hex Head Machine Screw1
    with Locations(Plane(origin=(0, 0, 0), x_dir=(-1, 0, 0), z_dir=(0, -1, 0))):
        with Locations((51, -47), (51, 46), (-51, 46), (-51, -47)):
            CounterBoreHole(CBORE_FOR_M3_HEX_HEAD_MACHINE_SCREW1_D / 2, CBORE_FOR_M3_HEX_HEAD_MACHINE_SCREW1_CBORE_D / 2, CBORE_FOR_M3_HEX_HEAD_MACHINE_SCREW1_CBORE_DEPTH, depth=CBORE_FOR_M3_HEX_HEAD_MACHINE_SCREW1_DEPTH)
            with Locations((0, 0, -(CBORE_FOR_M3_HEX_HEAD_MACHINE_SCREW1_DEPTH + CBORE_FOR_M3_HEX_HEAD_MACHINE_SCREW1_TIP / 2))):  # 118° drill point
                Cone(0, CBORE_FOR_M3_HEX_HEAD_MACHINE_SCREW1_D / 2, CBORE_FOR_M3_HEX_HEAD_MACHINE_SCREW1_TIP, mode=Mode.SUBTRACT)


solid = part.part
